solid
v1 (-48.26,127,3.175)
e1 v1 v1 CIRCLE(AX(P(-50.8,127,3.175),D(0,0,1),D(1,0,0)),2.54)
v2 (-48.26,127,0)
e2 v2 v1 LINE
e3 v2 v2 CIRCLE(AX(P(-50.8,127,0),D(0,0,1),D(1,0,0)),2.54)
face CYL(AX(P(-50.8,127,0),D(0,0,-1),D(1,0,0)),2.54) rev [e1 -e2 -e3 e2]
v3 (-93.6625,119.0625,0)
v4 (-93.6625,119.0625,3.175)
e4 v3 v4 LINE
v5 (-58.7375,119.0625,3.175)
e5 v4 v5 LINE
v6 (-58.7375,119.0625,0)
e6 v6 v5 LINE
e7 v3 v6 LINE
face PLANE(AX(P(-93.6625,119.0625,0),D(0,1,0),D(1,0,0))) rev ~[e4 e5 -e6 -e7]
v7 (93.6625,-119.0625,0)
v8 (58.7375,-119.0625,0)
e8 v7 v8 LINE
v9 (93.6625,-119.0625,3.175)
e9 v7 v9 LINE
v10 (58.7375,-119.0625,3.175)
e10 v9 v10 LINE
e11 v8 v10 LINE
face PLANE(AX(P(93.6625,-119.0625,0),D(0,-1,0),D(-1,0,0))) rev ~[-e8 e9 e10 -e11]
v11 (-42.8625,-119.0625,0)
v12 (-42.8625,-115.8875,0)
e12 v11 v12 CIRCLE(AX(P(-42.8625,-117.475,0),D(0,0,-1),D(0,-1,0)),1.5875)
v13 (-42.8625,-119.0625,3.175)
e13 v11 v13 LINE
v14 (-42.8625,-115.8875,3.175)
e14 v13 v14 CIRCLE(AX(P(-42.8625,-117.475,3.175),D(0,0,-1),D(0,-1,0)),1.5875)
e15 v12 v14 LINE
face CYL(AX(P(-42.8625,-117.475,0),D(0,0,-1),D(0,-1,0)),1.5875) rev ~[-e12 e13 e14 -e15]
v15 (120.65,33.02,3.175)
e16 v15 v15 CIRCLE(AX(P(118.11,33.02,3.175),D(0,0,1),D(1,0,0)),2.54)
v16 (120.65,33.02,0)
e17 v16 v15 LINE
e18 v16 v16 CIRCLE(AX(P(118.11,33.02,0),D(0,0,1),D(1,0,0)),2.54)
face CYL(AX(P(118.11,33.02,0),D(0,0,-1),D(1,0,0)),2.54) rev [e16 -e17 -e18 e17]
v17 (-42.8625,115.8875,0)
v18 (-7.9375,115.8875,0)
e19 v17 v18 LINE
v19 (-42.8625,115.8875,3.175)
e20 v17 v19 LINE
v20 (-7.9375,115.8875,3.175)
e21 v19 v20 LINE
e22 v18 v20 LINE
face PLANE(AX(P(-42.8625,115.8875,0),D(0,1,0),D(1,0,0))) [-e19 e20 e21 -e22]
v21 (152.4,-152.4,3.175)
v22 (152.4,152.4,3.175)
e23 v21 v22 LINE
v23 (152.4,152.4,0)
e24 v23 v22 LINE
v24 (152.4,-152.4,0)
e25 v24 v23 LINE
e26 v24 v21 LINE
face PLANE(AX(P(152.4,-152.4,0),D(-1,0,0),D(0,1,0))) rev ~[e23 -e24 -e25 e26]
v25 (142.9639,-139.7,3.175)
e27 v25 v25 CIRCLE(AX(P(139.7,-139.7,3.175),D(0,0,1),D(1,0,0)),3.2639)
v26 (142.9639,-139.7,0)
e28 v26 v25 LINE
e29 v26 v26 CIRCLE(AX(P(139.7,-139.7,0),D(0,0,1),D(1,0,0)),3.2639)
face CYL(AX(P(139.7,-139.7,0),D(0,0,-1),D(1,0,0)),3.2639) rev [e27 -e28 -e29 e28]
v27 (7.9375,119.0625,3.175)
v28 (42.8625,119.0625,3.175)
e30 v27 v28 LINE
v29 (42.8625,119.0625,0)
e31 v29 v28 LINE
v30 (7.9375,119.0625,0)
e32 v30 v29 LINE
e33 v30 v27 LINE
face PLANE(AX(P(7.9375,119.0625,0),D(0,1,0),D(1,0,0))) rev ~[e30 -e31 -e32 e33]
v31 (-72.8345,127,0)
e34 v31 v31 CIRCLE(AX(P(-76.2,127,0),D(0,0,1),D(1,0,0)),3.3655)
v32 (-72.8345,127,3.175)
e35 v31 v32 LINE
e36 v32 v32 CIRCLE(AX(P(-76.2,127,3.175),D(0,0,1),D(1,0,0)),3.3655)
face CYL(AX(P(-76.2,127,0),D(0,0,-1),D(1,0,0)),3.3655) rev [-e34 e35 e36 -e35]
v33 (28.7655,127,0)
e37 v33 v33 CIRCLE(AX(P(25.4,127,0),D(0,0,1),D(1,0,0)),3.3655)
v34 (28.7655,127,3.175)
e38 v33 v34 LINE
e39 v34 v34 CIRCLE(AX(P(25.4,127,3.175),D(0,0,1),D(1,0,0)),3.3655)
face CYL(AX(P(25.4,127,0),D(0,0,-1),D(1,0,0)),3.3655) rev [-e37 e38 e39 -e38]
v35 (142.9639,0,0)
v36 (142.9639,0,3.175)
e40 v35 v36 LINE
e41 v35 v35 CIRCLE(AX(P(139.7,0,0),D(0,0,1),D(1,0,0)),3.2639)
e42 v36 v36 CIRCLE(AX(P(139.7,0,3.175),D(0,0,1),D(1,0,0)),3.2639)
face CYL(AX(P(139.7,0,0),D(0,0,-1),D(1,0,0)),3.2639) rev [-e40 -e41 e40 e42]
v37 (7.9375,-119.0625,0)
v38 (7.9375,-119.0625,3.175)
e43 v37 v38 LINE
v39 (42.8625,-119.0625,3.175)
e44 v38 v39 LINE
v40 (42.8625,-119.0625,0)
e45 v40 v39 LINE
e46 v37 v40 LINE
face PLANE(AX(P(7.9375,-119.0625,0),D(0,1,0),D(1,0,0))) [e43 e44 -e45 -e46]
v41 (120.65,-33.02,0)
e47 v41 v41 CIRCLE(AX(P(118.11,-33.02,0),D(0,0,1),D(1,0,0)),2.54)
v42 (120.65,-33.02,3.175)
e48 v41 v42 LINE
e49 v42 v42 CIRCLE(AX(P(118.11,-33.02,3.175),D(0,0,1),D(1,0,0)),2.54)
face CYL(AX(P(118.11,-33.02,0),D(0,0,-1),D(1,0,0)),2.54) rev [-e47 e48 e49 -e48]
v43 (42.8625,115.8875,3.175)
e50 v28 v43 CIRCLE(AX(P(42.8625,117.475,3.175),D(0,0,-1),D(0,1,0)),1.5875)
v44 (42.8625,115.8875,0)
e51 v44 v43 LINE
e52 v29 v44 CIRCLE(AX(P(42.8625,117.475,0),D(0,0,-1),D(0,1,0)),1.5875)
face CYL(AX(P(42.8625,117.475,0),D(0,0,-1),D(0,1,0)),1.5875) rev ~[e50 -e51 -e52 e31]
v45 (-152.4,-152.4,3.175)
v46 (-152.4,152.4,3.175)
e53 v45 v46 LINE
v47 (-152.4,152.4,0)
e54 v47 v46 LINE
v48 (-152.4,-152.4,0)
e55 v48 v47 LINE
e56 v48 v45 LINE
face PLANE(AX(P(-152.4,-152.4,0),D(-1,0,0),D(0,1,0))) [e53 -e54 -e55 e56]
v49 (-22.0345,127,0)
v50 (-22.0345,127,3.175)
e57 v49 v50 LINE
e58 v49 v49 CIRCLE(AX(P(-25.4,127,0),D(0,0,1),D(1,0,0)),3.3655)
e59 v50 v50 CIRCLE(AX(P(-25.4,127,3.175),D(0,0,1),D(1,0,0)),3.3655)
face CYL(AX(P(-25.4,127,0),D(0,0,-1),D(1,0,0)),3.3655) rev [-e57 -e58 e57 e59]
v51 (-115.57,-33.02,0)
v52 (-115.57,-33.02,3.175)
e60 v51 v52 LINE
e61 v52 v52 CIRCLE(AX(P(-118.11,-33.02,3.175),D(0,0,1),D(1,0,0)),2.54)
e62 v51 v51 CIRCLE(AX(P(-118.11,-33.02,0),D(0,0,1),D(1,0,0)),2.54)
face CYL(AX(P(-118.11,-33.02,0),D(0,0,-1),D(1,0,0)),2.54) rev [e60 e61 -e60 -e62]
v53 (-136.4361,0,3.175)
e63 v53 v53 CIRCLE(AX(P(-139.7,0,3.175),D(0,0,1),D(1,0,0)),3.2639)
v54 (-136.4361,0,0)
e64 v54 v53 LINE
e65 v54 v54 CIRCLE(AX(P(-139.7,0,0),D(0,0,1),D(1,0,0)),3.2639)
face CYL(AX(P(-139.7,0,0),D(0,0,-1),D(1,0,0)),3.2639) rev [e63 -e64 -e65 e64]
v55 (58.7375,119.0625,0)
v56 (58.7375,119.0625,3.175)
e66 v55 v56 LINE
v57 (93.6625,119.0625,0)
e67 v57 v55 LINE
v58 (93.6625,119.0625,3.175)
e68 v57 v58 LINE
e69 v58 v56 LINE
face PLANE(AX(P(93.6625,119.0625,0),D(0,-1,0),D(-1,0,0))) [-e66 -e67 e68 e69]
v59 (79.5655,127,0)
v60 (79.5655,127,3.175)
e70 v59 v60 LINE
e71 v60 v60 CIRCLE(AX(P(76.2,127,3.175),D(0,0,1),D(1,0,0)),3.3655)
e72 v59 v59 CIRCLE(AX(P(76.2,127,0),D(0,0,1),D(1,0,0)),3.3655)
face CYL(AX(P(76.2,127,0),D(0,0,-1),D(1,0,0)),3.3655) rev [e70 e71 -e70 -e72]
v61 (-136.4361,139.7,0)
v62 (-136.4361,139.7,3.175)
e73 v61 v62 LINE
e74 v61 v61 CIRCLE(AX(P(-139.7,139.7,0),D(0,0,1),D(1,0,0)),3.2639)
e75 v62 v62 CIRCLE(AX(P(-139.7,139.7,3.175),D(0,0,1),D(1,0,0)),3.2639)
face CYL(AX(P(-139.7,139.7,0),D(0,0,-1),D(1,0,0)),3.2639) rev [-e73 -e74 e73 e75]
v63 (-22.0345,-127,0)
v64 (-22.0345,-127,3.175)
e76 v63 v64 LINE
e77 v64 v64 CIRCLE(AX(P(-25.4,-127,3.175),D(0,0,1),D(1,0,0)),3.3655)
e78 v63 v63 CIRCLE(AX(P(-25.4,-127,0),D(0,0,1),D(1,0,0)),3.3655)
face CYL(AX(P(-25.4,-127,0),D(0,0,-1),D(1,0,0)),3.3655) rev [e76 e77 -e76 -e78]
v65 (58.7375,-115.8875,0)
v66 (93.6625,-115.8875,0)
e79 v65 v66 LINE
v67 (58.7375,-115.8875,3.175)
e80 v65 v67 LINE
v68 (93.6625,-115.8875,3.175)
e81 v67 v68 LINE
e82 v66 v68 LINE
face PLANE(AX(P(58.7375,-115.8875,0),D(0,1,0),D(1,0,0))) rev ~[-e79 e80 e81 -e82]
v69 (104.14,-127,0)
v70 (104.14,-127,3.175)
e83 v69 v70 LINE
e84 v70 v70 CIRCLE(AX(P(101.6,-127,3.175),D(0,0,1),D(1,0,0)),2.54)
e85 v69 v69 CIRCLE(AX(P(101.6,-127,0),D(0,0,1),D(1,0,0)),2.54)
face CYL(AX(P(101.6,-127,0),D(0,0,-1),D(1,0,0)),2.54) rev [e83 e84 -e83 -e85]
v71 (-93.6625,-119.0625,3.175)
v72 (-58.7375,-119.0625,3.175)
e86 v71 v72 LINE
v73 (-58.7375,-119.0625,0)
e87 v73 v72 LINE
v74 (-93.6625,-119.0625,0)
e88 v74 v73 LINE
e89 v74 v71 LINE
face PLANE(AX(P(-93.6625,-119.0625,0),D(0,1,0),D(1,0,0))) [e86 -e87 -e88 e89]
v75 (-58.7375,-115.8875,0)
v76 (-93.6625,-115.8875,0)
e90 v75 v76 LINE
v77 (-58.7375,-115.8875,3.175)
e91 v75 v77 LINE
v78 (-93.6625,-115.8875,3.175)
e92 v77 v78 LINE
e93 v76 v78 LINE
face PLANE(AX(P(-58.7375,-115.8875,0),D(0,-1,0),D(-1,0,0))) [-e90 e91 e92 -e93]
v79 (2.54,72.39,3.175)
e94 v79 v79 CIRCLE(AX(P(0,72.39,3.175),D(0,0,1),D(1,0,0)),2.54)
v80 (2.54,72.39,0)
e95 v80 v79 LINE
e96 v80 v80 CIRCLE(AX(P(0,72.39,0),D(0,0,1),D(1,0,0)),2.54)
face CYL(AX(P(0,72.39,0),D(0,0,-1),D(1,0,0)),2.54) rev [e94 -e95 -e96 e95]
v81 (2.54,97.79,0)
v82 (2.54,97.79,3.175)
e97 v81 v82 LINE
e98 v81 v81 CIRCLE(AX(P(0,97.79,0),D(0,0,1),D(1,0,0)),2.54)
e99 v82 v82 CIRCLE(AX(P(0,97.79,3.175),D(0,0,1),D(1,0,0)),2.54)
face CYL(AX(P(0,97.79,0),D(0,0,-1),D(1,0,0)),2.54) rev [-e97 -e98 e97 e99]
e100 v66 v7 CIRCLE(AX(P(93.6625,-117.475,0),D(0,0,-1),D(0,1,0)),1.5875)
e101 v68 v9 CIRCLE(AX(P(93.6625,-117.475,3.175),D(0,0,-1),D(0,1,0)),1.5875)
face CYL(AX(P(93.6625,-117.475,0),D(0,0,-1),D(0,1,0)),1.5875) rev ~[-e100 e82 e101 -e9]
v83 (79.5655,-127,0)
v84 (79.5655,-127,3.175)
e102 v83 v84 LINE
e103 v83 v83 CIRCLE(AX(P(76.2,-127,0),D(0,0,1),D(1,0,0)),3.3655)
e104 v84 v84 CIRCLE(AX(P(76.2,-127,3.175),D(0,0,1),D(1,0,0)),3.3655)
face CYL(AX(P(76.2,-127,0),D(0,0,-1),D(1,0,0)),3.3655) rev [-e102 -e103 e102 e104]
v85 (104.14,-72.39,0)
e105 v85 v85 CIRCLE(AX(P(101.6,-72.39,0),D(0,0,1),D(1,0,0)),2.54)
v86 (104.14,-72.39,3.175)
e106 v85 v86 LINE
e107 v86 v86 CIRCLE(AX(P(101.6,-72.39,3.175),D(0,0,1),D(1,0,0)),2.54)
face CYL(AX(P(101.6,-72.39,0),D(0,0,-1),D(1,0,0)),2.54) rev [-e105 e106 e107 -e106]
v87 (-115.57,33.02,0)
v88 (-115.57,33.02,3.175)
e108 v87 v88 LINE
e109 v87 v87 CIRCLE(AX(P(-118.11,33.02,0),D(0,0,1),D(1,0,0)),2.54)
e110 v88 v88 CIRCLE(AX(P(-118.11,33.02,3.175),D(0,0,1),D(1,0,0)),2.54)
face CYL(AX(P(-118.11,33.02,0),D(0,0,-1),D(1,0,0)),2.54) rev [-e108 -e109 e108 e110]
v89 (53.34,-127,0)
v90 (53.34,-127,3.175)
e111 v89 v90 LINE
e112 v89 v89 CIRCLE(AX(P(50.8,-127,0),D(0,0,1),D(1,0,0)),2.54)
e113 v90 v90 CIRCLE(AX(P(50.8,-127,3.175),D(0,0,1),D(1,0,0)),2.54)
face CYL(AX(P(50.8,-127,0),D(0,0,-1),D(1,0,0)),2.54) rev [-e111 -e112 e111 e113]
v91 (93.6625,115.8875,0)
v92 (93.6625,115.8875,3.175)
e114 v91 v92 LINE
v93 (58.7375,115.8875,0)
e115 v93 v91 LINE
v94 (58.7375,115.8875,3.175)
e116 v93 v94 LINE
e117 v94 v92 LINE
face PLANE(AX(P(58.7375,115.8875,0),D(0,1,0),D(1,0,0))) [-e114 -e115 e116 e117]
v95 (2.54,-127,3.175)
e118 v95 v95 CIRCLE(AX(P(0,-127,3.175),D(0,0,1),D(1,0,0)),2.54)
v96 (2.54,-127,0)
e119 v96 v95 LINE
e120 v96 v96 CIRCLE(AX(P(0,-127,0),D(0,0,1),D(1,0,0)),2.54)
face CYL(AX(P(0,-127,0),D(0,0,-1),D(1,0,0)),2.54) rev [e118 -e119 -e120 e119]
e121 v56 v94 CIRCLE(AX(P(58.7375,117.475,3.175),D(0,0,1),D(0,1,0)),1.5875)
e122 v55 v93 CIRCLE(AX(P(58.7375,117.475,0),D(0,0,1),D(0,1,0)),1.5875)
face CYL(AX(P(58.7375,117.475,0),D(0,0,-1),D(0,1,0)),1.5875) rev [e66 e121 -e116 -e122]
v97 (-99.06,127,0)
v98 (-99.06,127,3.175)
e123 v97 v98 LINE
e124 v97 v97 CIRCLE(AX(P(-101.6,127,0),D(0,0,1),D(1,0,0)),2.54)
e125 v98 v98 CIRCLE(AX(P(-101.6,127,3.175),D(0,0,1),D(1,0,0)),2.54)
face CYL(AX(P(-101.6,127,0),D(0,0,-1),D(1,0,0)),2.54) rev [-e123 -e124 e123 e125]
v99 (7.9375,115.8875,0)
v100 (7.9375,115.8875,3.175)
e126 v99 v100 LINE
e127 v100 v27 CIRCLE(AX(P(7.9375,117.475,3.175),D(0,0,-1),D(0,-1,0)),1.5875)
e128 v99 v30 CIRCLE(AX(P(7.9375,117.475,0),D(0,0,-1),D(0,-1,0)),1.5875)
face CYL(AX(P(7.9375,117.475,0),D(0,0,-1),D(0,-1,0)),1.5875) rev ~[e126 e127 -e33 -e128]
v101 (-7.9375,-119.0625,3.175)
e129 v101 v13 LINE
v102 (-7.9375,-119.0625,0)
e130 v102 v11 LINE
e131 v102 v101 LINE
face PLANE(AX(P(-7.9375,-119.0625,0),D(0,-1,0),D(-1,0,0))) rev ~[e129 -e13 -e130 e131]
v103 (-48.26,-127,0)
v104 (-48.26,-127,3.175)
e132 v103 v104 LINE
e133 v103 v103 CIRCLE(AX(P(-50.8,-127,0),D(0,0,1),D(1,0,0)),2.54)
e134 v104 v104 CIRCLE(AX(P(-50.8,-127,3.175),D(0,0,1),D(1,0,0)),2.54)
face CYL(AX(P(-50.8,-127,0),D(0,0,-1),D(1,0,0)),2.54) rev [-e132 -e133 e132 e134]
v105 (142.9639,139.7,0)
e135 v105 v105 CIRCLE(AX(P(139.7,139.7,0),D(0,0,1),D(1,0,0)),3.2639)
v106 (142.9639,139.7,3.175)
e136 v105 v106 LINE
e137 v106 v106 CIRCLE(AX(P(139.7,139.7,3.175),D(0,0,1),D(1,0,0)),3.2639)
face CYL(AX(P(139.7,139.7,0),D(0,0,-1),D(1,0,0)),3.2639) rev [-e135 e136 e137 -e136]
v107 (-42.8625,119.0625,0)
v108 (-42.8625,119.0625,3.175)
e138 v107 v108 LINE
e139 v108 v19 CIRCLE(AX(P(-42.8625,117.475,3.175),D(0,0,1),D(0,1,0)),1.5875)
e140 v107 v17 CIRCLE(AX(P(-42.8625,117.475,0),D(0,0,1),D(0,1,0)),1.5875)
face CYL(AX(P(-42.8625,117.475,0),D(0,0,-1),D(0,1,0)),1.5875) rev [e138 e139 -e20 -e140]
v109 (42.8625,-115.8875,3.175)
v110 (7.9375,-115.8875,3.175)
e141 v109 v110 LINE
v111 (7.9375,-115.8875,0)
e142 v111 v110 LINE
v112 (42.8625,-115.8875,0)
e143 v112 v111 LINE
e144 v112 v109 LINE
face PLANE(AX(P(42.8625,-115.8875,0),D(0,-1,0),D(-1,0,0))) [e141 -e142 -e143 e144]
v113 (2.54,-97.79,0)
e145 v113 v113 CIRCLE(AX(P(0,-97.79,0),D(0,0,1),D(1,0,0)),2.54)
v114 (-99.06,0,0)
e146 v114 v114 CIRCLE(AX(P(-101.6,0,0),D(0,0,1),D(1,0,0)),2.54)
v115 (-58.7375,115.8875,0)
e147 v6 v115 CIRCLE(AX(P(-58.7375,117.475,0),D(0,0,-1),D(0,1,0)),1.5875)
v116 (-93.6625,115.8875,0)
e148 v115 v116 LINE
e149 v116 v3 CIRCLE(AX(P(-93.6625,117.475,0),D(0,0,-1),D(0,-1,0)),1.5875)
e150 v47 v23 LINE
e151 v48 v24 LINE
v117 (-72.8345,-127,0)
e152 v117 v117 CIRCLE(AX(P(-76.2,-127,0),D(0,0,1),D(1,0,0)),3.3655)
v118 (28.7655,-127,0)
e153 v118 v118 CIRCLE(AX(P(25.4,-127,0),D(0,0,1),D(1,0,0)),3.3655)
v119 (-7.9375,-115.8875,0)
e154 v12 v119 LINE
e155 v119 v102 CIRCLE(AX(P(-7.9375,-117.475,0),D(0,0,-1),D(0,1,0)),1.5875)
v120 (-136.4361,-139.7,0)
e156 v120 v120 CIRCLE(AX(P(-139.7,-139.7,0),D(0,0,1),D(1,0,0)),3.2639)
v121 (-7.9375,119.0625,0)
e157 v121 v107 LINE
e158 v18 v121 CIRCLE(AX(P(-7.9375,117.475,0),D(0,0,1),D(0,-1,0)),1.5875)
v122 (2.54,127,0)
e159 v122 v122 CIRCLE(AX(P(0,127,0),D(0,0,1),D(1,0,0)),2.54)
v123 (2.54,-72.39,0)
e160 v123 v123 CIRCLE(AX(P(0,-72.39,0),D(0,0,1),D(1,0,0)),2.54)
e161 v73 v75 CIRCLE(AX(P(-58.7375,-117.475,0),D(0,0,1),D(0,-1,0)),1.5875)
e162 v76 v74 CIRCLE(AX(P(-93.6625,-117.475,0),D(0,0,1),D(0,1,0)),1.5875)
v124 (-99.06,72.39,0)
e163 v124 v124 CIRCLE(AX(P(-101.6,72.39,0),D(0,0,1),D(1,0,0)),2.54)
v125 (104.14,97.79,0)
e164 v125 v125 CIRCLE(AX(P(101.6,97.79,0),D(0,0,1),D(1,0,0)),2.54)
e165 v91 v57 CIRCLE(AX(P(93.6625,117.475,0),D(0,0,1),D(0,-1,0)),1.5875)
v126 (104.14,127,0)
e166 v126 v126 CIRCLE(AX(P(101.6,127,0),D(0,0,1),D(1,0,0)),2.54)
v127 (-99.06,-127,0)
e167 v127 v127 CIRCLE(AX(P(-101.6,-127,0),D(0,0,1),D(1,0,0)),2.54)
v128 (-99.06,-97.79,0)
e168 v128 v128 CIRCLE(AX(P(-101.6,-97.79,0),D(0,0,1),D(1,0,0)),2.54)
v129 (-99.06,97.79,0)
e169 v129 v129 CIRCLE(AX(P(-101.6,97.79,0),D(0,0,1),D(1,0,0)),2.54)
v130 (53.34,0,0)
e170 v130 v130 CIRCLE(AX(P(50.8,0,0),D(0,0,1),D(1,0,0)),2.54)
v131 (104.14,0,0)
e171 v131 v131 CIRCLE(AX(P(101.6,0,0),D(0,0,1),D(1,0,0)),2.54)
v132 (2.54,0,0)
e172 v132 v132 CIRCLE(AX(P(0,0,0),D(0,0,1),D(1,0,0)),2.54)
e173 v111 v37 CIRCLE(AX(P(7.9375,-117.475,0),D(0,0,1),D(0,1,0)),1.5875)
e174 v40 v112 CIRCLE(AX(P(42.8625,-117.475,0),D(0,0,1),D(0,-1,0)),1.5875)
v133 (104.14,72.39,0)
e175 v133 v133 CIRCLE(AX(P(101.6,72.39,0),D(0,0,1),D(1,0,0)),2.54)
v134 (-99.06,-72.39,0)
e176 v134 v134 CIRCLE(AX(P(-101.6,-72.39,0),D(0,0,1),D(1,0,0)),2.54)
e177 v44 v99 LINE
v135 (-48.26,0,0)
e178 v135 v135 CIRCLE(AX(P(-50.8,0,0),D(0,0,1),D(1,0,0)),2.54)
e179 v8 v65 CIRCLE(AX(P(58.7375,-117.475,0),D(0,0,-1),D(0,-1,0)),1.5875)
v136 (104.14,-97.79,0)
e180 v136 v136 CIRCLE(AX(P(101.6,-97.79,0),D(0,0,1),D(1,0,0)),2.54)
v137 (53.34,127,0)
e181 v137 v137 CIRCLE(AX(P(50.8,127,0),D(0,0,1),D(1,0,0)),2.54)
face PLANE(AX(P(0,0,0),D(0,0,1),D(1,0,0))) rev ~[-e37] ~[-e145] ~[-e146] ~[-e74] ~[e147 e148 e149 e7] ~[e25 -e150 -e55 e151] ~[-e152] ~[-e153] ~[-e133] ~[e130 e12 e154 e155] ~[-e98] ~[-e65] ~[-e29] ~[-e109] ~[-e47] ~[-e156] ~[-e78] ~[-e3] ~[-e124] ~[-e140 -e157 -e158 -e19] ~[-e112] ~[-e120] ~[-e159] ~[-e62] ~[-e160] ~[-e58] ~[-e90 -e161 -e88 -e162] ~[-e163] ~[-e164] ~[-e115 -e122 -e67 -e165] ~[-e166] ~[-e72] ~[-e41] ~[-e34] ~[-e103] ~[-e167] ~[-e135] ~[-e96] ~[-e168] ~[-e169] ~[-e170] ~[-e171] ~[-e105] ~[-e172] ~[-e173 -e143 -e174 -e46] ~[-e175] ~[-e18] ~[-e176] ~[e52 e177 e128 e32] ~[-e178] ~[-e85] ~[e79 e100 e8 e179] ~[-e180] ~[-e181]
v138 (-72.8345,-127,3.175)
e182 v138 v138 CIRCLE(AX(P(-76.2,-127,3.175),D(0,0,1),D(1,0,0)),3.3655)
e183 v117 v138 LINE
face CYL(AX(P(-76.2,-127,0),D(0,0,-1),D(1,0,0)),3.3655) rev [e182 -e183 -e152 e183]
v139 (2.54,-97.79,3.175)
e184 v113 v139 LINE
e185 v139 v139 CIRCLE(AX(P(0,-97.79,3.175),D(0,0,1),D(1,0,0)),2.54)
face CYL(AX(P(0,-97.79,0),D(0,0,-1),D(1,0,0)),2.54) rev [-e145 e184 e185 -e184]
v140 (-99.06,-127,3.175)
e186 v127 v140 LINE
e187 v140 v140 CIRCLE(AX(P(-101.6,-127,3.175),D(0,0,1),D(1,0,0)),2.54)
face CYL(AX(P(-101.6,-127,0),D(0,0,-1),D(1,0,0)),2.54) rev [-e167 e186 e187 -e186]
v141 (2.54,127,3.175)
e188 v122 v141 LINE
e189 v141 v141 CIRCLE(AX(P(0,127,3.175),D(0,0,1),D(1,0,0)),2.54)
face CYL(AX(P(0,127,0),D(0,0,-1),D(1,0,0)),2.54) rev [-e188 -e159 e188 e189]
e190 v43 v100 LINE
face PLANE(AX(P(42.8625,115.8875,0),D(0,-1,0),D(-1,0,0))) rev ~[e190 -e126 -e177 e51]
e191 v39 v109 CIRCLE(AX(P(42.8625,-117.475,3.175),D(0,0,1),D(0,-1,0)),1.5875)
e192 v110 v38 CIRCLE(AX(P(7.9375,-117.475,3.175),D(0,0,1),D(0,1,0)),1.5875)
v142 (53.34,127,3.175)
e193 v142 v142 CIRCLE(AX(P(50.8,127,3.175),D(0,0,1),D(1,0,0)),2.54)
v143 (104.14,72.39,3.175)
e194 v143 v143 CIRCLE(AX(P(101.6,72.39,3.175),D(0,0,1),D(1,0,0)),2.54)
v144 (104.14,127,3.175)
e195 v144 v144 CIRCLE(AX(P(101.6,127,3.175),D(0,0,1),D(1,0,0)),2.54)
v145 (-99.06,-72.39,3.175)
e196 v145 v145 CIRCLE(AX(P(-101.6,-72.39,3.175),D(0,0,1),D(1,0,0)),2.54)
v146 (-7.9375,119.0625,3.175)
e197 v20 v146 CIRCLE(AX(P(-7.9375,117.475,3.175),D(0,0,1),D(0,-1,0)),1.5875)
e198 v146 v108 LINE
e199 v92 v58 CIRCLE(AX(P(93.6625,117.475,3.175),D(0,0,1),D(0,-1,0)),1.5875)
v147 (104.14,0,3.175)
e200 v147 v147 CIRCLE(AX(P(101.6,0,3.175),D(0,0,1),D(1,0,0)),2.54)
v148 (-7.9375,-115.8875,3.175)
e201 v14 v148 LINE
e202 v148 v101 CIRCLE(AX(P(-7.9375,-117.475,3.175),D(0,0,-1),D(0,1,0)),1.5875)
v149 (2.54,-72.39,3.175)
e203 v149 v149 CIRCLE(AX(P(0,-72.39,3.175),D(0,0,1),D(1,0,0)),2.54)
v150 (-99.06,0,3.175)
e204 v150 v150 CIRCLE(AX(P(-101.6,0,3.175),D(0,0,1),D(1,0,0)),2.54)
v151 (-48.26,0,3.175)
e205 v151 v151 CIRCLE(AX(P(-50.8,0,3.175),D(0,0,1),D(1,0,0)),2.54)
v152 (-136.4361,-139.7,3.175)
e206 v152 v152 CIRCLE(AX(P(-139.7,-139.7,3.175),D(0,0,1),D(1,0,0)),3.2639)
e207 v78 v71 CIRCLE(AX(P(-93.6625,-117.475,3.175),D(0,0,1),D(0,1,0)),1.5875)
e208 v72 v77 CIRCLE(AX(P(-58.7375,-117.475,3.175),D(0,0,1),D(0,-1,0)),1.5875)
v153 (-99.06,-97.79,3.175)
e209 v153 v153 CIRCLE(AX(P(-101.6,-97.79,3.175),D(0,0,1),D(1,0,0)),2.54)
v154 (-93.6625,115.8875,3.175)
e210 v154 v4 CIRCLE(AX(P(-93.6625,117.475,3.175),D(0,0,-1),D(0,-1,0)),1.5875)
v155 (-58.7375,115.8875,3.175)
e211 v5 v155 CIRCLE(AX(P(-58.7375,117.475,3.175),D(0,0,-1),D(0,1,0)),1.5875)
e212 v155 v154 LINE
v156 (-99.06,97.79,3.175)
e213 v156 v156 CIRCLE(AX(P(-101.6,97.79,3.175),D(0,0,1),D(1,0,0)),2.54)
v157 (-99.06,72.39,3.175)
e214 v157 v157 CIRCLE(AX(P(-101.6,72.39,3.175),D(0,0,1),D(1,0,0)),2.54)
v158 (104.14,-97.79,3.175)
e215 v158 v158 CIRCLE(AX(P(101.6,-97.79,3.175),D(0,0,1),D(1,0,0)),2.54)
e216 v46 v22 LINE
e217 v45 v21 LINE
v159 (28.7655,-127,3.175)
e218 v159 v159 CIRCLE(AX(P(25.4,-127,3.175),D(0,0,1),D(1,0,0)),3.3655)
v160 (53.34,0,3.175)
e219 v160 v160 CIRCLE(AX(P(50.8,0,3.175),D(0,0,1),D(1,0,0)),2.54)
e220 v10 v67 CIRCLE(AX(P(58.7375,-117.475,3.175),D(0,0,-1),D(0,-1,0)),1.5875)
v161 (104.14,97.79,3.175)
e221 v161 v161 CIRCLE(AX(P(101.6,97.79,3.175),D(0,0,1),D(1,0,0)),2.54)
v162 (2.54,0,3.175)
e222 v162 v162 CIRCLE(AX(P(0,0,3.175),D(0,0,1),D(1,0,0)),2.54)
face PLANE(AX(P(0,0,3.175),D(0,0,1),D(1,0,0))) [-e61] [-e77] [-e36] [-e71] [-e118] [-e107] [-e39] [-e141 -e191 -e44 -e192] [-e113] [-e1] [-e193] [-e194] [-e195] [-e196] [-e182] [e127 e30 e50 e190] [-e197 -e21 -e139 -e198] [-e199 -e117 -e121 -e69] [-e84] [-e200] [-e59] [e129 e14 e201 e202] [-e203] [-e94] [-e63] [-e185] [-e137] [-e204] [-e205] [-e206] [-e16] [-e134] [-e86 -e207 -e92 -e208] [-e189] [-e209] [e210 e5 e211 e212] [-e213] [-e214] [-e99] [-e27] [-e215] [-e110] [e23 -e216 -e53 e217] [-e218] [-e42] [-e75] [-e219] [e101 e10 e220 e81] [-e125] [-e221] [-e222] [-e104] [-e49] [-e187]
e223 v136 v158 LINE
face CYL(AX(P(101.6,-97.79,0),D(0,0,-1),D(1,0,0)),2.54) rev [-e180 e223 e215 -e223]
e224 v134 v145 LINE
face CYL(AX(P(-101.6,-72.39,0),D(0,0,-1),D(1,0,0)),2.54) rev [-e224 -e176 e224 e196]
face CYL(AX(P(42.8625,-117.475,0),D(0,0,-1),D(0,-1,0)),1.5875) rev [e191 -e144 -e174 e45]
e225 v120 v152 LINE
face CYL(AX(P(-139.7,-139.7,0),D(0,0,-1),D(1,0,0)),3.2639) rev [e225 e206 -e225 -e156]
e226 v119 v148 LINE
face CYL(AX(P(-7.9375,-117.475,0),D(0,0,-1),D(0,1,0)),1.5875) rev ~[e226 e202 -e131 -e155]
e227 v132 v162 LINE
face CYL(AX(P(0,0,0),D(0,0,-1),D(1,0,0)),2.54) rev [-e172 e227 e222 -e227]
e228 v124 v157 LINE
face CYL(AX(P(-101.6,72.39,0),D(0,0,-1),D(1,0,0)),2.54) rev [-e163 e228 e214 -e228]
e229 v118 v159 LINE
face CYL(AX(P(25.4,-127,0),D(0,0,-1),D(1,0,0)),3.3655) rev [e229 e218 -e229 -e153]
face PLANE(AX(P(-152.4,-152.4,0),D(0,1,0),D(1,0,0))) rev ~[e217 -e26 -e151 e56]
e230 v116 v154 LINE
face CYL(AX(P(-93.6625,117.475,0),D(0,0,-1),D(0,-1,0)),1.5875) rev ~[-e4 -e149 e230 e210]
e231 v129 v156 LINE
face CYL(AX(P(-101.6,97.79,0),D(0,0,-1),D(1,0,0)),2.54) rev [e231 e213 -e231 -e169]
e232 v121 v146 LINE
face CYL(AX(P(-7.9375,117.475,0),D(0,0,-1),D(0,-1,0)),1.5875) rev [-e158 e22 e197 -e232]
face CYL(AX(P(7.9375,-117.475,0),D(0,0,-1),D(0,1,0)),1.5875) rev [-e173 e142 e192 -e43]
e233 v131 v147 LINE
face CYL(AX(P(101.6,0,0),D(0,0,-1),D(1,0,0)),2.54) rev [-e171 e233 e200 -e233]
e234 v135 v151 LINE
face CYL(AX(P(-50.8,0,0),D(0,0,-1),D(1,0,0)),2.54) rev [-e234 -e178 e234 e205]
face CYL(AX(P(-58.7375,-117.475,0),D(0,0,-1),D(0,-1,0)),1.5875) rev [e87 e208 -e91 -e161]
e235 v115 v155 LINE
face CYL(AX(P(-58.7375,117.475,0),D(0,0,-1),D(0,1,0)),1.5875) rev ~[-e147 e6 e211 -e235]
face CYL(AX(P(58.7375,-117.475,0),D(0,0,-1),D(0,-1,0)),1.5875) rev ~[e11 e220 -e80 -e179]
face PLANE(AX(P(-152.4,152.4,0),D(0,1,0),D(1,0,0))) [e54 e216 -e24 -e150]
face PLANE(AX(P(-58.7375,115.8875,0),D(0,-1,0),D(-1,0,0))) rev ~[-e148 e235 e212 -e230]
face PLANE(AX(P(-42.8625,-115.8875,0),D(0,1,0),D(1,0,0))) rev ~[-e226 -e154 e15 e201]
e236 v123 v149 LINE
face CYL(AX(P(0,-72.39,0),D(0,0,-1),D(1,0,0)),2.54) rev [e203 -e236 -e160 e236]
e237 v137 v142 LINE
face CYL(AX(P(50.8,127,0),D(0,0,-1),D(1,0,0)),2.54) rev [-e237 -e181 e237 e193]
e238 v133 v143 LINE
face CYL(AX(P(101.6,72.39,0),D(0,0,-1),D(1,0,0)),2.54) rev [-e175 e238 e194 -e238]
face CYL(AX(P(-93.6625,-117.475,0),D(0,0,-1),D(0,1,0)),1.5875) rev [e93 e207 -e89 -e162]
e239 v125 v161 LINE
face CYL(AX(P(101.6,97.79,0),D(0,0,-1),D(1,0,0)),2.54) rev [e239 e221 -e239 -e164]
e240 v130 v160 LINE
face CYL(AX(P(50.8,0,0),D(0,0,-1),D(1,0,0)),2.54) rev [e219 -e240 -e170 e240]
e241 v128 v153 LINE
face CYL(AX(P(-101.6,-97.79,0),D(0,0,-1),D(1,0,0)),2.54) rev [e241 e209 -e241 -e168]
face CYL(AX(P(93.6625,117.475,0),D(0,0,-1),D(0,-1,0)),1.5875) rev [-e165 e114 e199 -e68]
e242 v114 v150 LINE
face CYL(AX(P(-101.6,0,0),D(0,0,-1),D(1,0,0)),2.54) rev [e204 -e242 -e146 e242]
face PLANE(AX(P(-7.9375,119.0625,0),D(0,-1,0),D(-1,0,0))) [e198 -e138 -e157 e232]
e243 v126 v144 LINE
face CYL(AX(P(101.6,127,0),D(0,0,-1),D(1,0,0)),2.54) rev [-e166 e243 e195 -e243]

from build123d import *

# Parameters (mm, degrees)
SKETCH1_W           = 304.8
SKETCH1_H           = 304.8
SKETCH1_R           = 3.3655
SKETCH1_R_2         = 2.54
SKETCH1_R_3         = 3.2639
BOSS_EXTRUDE1_DEPTH = 3.175


with BuildPart() as part:
    # Sketch1 → Boss-Extrude1 (new body)
    with BuildSketch(Plane.XY):
        Rectangle(SKETCH1_W, SKETCH1_H)
        with Locations((-76.2, 127)):
            Circle(SKETCH1_R, mode=Mode.SUBTRACT)
        with Locations((-25.4, 127)):
            Circle(SKETCH1_R, mode=Mode.SUBTRACT)
        with Locations((25.4, 127)):
            Circle(SKETCH1_R, mode=Mode.SUBTRACT)
        with Locations((76.2, 127)):
            Circle(SKETCH1_R, mode=Mode.SUBTRACT)
        with Locations((-101.6, 0)):
            Circle(SKETCH1_R_2, mode=Mode.SUBTRACT)
        with Locations((-50.8, 0)):
            Circle(SKETCH1_R_2, mode=Mode.SUBTRACT)
        Circle(SKETCH1_R_2, mode=Mode.SUBTRACT)
        with Locations((101.6, 0)):
            Circle(SKETCH1_R_2, mode=Mode.SUBTRACT)
        with Locations((50.8, 0)):
            Circle(SKETCH1_R_2, mode=Mode.SUBTRACT)
        with Locations((-50.8, 127)):
            Circle(SKETCH1_R_2, mode=Mode.SUBTRACT)
        with Locations((0, 127)):
            Circle(SKETCH1_R_2, mode=Mode.SUBTRACT)
        with Locations((50.8, 127)):
            Circle(SKETCH1_R_2, mode=Mode.SUBTRACT)
        with Locations((-101.6, 72.39)):
            Circle(SKETCH1_R_2, mode=Mode.SUBTRACT)
        with Locations((0, 72.39)):
            Circle(SKETCH1_R_2, mode=Mode.SUBTRACT)
        with Locations((101.6, 72.39)):
            Circle(SKETCH1_R_2, mode=Mode.SUBTRACT)
        with Locations((-101.6, -72.39)):
            Circle(SKETCH1_R_2, mode=Mode.SUBTRACT)
        with Locations((0, -72.39)):
            Circle(SKETCH1_R_2, mode=Mode.SUBTRACT)
        with Locations((101.6, -72.39)):
            Circle(SKETCH1_R_2, mode=Mode.SUBTRACT)
        with Locations((-76.2, -127)):
            Circle(SKETCH1_R, mode=Mode.SUBTRACT)
        with Locations((-25.4, -127)):
            Circle(SKETCH1_R, mode=Mode.SUBTRACT)
        with Locations((25.4, -127)):
            Circle(SKETCH1_R, mode=Mode.SUBTRACT)
        with Locations((76.2, -127)):
            Circle(SKETCH1_R, mode=Mode.SUBTRACT)
        with Locations((50.8, -127)):
            Circle(SKETCH1_R_2, mode=Mode.SUBTRACT)
        with Locations((0, -127)):
            Circle(SKETCH1_R_2, mode=Mode.SUBTRACT)
        with Locations((-50.8, -127)):
            Circle(SKETCH1_R_2, mode=Mode.SUBTRACT)
        with Locations((-101.6, 97.79)):
            Circle(SKETCH1_R_2, mode=Mode.SUBTRACT)
        with Locations((0, 97.79)):
            Circle(SKETCH1_R_2, mode=Mode.SUBTRACT)
        with Locations((101.6, 97.79)):
            Circle(SKETCH1_R_2, mode=Mode.SUBTRACT)
        with Locations((101.6, 127)):
            Circle(SKETCH1_R_2, mode=Mode.SUBTRACT)
        with Locations((-101.6, 127)):
            Circle(SKETCH1_R_2, mode=Mode.SUBTRACT)
        with Locations((-118.11, 33.02)):
            Circle(SKETCH1_R_2, mode=Mode.SUBTRACT)
        with Locations((-101.6, -127)):
            Circle(SKETCH1_R_2, mode=Mode.SUBTRACT)
        with Locations((101.6, -127)):
            Circle(SKETCH1_R_2, mode=Mode.SUBTRACT)
        with Locations((101.6, -97.79)):
            Circle(SKETCH1_R_2, mode=Mode.SUBTRACT)
        with Locations((0, -97.79)):
            Circle(SKETCH1_R_2, mode=Mode.SUBTRACT)
        with Locations((-101.6, -97.79)):
            Circle(SKETCH1_R_2, mode=Mode.SUBTRACT)
        with Locations((-118.11, -33.02)):
            Circle(SKETCH1_R_2, mode=Mode.SUBTRACT)
        with Locations((-139.7, 139.7)):
            Circle(SKETCH1_R_3, mode=Mode.SUBTRACT)
        with Locations((-139.7, 0)):
            Circle(SKETCH1_R_3, mode=Mode.SUBTRACT)
        with Locations((-139.7, -139.7)):
            Circle(SKETCH1_R_3, mode=Mode.SUBTRACT)
        with Locations((139.7, -139.7)):
            Circle(SKETCH1_R_3, mode=Mode.SUBTRACT)
        with Locations((139.7, 0)):
            Circle(SKETCH1_R_3, mode=Mode.SUBTRACT)
        with Locations((139.7, 139.7)):
            Circle(SKETCH1_R_3, mode=Mode.SUBTRACT)
        with Locations((118.11, 33.02)):
            Circle(SKETCH1_R_2, mode=Mode.SUBTRACT)
        with Locations((118.11, -33.02)):
            Circle(SKETCH1_R_2, mode=Mode.SUBTRACT)
        with BuildLine():
            Line((-93.6625, 119.0625), (-58.7375, 119.0625))
            ThreePointArc((-58.7375, 119.0625), (-57.15, 117.475), (-58.7375, 115.8875))
            Line((-58.7375, 115.8875), (-93.6625, 115.8875))
            ThreePointArc((-93.6625, 115.8875), (-95.25, 117.475), (-93.6625, 119.0625))
        make_face(mode=Mode.SUBTRACT)
        with BuildLine():
            Line((-7.9375, 119.0625), (-42.8625, 119.0625))
            ThreePointArc((-42.8625, 119.0625), (-44.45, 117.475), (-42.8625, 115.8875))
            Line((-42.8625, 115.8875), (-7.9375, 115.8875))
            ThreePointArc((-7.9375, 115.8875), (-6.35, 117.475), (-7.9375, 119.0625))
        make_face(mode=Mode.SUBTRACT)
        with BuildLine():
            Line((7.9375, 119.0625), (42.8625, 119.0625))
            ThreePointArc((42.8625, 119.0625), (44.45, 117.475), (42.8625, 115.8875))
            Line((42.8625, 115.8875), (7.9375, 115.8875))
            ThreePointArc((7.9375, 115.8875), (6.35, 117.475), (7.9375, 119.0625))
        make_face(mode=Mode.SUBTRACT)
        with BuildLine():
            Line((93.6625, 119.0625), (58.7375, 119.0625))
            ThreePointArc((58.7375, 119.0625), (57.15, 117.475), (58.7375, 115.8875))
            Line((58.7375, 115.8875), (93.6625, 115.8875))
            ThreePointArc((93.6625, 115.8875), (95.25, 117.475), (93.6625, 119.0625))
        make_face(mode=Mode.SUBTRACT)
        with BuildLine():
            Line((93.6625, -119.0625), (58.7375, -119.0625))
            ThreePointArc((58.7375, -119.0625), (57.15, -117.475), (58.7375, -115.8875))
            Line((58.7375, -115.8875), (93.6625, -115.8875))
            ThreePointArc((93.6625, -115.8875), (95.25, -117.475), (93.6625, -119.0625))
        make_face(mode=Mode.SUBTRACT)
        with BuildLine():
            Line((7.9375, -119.0625), (42.8625, -119.0625))
            ThreePointArc((42.8625, -119.0625), (44.45, -117.475), (42.8625, -115.8875))
            Line((42.8625, -115.8875), (7.9375, -115.8875))
            ThreePointArc((7.9375, -115.8875), (6.35, -117.475), (7.9375, -119.0625))
        make_face(mode=Mode.SUBTRACT)
        with BuildLine():
            Line((-7.9375, -119.0625), (-42.8625, -119.0625))
            ThreePointArc((-42.8625, -119.0625), (-44.45, -117.475), (-42.8625, -115.8875))
            Line((-42.8625, -115.8875), (-7.9375, -115.8875))
            ThreePointArc((-7.9375, -115.8875), (-6.35, -117.475), (-7.9375, -119.0625))
        make_face(mode=Mode.SUBTRACT)
        with BuildLine():
            Line((-93.6625, -119.0625), (-58.7375, -119.0625))
            ThreePointArc((-58.7375, -119.0625), (-57.15, -117.475), (-58.7375, -115.8875))
            Line((-58.7375, -115.8875), (-93.6625, -115.8875))
            ThreePointArc((-93.6625, -115.8875), (-95.25, -117.475), (-93.6625, -119.0625))
        make_face(mode=Mode.SUBTRACT)
    extrude(amount=BOSS_EXTRUDE1_DEPTH)


solid = part.part
